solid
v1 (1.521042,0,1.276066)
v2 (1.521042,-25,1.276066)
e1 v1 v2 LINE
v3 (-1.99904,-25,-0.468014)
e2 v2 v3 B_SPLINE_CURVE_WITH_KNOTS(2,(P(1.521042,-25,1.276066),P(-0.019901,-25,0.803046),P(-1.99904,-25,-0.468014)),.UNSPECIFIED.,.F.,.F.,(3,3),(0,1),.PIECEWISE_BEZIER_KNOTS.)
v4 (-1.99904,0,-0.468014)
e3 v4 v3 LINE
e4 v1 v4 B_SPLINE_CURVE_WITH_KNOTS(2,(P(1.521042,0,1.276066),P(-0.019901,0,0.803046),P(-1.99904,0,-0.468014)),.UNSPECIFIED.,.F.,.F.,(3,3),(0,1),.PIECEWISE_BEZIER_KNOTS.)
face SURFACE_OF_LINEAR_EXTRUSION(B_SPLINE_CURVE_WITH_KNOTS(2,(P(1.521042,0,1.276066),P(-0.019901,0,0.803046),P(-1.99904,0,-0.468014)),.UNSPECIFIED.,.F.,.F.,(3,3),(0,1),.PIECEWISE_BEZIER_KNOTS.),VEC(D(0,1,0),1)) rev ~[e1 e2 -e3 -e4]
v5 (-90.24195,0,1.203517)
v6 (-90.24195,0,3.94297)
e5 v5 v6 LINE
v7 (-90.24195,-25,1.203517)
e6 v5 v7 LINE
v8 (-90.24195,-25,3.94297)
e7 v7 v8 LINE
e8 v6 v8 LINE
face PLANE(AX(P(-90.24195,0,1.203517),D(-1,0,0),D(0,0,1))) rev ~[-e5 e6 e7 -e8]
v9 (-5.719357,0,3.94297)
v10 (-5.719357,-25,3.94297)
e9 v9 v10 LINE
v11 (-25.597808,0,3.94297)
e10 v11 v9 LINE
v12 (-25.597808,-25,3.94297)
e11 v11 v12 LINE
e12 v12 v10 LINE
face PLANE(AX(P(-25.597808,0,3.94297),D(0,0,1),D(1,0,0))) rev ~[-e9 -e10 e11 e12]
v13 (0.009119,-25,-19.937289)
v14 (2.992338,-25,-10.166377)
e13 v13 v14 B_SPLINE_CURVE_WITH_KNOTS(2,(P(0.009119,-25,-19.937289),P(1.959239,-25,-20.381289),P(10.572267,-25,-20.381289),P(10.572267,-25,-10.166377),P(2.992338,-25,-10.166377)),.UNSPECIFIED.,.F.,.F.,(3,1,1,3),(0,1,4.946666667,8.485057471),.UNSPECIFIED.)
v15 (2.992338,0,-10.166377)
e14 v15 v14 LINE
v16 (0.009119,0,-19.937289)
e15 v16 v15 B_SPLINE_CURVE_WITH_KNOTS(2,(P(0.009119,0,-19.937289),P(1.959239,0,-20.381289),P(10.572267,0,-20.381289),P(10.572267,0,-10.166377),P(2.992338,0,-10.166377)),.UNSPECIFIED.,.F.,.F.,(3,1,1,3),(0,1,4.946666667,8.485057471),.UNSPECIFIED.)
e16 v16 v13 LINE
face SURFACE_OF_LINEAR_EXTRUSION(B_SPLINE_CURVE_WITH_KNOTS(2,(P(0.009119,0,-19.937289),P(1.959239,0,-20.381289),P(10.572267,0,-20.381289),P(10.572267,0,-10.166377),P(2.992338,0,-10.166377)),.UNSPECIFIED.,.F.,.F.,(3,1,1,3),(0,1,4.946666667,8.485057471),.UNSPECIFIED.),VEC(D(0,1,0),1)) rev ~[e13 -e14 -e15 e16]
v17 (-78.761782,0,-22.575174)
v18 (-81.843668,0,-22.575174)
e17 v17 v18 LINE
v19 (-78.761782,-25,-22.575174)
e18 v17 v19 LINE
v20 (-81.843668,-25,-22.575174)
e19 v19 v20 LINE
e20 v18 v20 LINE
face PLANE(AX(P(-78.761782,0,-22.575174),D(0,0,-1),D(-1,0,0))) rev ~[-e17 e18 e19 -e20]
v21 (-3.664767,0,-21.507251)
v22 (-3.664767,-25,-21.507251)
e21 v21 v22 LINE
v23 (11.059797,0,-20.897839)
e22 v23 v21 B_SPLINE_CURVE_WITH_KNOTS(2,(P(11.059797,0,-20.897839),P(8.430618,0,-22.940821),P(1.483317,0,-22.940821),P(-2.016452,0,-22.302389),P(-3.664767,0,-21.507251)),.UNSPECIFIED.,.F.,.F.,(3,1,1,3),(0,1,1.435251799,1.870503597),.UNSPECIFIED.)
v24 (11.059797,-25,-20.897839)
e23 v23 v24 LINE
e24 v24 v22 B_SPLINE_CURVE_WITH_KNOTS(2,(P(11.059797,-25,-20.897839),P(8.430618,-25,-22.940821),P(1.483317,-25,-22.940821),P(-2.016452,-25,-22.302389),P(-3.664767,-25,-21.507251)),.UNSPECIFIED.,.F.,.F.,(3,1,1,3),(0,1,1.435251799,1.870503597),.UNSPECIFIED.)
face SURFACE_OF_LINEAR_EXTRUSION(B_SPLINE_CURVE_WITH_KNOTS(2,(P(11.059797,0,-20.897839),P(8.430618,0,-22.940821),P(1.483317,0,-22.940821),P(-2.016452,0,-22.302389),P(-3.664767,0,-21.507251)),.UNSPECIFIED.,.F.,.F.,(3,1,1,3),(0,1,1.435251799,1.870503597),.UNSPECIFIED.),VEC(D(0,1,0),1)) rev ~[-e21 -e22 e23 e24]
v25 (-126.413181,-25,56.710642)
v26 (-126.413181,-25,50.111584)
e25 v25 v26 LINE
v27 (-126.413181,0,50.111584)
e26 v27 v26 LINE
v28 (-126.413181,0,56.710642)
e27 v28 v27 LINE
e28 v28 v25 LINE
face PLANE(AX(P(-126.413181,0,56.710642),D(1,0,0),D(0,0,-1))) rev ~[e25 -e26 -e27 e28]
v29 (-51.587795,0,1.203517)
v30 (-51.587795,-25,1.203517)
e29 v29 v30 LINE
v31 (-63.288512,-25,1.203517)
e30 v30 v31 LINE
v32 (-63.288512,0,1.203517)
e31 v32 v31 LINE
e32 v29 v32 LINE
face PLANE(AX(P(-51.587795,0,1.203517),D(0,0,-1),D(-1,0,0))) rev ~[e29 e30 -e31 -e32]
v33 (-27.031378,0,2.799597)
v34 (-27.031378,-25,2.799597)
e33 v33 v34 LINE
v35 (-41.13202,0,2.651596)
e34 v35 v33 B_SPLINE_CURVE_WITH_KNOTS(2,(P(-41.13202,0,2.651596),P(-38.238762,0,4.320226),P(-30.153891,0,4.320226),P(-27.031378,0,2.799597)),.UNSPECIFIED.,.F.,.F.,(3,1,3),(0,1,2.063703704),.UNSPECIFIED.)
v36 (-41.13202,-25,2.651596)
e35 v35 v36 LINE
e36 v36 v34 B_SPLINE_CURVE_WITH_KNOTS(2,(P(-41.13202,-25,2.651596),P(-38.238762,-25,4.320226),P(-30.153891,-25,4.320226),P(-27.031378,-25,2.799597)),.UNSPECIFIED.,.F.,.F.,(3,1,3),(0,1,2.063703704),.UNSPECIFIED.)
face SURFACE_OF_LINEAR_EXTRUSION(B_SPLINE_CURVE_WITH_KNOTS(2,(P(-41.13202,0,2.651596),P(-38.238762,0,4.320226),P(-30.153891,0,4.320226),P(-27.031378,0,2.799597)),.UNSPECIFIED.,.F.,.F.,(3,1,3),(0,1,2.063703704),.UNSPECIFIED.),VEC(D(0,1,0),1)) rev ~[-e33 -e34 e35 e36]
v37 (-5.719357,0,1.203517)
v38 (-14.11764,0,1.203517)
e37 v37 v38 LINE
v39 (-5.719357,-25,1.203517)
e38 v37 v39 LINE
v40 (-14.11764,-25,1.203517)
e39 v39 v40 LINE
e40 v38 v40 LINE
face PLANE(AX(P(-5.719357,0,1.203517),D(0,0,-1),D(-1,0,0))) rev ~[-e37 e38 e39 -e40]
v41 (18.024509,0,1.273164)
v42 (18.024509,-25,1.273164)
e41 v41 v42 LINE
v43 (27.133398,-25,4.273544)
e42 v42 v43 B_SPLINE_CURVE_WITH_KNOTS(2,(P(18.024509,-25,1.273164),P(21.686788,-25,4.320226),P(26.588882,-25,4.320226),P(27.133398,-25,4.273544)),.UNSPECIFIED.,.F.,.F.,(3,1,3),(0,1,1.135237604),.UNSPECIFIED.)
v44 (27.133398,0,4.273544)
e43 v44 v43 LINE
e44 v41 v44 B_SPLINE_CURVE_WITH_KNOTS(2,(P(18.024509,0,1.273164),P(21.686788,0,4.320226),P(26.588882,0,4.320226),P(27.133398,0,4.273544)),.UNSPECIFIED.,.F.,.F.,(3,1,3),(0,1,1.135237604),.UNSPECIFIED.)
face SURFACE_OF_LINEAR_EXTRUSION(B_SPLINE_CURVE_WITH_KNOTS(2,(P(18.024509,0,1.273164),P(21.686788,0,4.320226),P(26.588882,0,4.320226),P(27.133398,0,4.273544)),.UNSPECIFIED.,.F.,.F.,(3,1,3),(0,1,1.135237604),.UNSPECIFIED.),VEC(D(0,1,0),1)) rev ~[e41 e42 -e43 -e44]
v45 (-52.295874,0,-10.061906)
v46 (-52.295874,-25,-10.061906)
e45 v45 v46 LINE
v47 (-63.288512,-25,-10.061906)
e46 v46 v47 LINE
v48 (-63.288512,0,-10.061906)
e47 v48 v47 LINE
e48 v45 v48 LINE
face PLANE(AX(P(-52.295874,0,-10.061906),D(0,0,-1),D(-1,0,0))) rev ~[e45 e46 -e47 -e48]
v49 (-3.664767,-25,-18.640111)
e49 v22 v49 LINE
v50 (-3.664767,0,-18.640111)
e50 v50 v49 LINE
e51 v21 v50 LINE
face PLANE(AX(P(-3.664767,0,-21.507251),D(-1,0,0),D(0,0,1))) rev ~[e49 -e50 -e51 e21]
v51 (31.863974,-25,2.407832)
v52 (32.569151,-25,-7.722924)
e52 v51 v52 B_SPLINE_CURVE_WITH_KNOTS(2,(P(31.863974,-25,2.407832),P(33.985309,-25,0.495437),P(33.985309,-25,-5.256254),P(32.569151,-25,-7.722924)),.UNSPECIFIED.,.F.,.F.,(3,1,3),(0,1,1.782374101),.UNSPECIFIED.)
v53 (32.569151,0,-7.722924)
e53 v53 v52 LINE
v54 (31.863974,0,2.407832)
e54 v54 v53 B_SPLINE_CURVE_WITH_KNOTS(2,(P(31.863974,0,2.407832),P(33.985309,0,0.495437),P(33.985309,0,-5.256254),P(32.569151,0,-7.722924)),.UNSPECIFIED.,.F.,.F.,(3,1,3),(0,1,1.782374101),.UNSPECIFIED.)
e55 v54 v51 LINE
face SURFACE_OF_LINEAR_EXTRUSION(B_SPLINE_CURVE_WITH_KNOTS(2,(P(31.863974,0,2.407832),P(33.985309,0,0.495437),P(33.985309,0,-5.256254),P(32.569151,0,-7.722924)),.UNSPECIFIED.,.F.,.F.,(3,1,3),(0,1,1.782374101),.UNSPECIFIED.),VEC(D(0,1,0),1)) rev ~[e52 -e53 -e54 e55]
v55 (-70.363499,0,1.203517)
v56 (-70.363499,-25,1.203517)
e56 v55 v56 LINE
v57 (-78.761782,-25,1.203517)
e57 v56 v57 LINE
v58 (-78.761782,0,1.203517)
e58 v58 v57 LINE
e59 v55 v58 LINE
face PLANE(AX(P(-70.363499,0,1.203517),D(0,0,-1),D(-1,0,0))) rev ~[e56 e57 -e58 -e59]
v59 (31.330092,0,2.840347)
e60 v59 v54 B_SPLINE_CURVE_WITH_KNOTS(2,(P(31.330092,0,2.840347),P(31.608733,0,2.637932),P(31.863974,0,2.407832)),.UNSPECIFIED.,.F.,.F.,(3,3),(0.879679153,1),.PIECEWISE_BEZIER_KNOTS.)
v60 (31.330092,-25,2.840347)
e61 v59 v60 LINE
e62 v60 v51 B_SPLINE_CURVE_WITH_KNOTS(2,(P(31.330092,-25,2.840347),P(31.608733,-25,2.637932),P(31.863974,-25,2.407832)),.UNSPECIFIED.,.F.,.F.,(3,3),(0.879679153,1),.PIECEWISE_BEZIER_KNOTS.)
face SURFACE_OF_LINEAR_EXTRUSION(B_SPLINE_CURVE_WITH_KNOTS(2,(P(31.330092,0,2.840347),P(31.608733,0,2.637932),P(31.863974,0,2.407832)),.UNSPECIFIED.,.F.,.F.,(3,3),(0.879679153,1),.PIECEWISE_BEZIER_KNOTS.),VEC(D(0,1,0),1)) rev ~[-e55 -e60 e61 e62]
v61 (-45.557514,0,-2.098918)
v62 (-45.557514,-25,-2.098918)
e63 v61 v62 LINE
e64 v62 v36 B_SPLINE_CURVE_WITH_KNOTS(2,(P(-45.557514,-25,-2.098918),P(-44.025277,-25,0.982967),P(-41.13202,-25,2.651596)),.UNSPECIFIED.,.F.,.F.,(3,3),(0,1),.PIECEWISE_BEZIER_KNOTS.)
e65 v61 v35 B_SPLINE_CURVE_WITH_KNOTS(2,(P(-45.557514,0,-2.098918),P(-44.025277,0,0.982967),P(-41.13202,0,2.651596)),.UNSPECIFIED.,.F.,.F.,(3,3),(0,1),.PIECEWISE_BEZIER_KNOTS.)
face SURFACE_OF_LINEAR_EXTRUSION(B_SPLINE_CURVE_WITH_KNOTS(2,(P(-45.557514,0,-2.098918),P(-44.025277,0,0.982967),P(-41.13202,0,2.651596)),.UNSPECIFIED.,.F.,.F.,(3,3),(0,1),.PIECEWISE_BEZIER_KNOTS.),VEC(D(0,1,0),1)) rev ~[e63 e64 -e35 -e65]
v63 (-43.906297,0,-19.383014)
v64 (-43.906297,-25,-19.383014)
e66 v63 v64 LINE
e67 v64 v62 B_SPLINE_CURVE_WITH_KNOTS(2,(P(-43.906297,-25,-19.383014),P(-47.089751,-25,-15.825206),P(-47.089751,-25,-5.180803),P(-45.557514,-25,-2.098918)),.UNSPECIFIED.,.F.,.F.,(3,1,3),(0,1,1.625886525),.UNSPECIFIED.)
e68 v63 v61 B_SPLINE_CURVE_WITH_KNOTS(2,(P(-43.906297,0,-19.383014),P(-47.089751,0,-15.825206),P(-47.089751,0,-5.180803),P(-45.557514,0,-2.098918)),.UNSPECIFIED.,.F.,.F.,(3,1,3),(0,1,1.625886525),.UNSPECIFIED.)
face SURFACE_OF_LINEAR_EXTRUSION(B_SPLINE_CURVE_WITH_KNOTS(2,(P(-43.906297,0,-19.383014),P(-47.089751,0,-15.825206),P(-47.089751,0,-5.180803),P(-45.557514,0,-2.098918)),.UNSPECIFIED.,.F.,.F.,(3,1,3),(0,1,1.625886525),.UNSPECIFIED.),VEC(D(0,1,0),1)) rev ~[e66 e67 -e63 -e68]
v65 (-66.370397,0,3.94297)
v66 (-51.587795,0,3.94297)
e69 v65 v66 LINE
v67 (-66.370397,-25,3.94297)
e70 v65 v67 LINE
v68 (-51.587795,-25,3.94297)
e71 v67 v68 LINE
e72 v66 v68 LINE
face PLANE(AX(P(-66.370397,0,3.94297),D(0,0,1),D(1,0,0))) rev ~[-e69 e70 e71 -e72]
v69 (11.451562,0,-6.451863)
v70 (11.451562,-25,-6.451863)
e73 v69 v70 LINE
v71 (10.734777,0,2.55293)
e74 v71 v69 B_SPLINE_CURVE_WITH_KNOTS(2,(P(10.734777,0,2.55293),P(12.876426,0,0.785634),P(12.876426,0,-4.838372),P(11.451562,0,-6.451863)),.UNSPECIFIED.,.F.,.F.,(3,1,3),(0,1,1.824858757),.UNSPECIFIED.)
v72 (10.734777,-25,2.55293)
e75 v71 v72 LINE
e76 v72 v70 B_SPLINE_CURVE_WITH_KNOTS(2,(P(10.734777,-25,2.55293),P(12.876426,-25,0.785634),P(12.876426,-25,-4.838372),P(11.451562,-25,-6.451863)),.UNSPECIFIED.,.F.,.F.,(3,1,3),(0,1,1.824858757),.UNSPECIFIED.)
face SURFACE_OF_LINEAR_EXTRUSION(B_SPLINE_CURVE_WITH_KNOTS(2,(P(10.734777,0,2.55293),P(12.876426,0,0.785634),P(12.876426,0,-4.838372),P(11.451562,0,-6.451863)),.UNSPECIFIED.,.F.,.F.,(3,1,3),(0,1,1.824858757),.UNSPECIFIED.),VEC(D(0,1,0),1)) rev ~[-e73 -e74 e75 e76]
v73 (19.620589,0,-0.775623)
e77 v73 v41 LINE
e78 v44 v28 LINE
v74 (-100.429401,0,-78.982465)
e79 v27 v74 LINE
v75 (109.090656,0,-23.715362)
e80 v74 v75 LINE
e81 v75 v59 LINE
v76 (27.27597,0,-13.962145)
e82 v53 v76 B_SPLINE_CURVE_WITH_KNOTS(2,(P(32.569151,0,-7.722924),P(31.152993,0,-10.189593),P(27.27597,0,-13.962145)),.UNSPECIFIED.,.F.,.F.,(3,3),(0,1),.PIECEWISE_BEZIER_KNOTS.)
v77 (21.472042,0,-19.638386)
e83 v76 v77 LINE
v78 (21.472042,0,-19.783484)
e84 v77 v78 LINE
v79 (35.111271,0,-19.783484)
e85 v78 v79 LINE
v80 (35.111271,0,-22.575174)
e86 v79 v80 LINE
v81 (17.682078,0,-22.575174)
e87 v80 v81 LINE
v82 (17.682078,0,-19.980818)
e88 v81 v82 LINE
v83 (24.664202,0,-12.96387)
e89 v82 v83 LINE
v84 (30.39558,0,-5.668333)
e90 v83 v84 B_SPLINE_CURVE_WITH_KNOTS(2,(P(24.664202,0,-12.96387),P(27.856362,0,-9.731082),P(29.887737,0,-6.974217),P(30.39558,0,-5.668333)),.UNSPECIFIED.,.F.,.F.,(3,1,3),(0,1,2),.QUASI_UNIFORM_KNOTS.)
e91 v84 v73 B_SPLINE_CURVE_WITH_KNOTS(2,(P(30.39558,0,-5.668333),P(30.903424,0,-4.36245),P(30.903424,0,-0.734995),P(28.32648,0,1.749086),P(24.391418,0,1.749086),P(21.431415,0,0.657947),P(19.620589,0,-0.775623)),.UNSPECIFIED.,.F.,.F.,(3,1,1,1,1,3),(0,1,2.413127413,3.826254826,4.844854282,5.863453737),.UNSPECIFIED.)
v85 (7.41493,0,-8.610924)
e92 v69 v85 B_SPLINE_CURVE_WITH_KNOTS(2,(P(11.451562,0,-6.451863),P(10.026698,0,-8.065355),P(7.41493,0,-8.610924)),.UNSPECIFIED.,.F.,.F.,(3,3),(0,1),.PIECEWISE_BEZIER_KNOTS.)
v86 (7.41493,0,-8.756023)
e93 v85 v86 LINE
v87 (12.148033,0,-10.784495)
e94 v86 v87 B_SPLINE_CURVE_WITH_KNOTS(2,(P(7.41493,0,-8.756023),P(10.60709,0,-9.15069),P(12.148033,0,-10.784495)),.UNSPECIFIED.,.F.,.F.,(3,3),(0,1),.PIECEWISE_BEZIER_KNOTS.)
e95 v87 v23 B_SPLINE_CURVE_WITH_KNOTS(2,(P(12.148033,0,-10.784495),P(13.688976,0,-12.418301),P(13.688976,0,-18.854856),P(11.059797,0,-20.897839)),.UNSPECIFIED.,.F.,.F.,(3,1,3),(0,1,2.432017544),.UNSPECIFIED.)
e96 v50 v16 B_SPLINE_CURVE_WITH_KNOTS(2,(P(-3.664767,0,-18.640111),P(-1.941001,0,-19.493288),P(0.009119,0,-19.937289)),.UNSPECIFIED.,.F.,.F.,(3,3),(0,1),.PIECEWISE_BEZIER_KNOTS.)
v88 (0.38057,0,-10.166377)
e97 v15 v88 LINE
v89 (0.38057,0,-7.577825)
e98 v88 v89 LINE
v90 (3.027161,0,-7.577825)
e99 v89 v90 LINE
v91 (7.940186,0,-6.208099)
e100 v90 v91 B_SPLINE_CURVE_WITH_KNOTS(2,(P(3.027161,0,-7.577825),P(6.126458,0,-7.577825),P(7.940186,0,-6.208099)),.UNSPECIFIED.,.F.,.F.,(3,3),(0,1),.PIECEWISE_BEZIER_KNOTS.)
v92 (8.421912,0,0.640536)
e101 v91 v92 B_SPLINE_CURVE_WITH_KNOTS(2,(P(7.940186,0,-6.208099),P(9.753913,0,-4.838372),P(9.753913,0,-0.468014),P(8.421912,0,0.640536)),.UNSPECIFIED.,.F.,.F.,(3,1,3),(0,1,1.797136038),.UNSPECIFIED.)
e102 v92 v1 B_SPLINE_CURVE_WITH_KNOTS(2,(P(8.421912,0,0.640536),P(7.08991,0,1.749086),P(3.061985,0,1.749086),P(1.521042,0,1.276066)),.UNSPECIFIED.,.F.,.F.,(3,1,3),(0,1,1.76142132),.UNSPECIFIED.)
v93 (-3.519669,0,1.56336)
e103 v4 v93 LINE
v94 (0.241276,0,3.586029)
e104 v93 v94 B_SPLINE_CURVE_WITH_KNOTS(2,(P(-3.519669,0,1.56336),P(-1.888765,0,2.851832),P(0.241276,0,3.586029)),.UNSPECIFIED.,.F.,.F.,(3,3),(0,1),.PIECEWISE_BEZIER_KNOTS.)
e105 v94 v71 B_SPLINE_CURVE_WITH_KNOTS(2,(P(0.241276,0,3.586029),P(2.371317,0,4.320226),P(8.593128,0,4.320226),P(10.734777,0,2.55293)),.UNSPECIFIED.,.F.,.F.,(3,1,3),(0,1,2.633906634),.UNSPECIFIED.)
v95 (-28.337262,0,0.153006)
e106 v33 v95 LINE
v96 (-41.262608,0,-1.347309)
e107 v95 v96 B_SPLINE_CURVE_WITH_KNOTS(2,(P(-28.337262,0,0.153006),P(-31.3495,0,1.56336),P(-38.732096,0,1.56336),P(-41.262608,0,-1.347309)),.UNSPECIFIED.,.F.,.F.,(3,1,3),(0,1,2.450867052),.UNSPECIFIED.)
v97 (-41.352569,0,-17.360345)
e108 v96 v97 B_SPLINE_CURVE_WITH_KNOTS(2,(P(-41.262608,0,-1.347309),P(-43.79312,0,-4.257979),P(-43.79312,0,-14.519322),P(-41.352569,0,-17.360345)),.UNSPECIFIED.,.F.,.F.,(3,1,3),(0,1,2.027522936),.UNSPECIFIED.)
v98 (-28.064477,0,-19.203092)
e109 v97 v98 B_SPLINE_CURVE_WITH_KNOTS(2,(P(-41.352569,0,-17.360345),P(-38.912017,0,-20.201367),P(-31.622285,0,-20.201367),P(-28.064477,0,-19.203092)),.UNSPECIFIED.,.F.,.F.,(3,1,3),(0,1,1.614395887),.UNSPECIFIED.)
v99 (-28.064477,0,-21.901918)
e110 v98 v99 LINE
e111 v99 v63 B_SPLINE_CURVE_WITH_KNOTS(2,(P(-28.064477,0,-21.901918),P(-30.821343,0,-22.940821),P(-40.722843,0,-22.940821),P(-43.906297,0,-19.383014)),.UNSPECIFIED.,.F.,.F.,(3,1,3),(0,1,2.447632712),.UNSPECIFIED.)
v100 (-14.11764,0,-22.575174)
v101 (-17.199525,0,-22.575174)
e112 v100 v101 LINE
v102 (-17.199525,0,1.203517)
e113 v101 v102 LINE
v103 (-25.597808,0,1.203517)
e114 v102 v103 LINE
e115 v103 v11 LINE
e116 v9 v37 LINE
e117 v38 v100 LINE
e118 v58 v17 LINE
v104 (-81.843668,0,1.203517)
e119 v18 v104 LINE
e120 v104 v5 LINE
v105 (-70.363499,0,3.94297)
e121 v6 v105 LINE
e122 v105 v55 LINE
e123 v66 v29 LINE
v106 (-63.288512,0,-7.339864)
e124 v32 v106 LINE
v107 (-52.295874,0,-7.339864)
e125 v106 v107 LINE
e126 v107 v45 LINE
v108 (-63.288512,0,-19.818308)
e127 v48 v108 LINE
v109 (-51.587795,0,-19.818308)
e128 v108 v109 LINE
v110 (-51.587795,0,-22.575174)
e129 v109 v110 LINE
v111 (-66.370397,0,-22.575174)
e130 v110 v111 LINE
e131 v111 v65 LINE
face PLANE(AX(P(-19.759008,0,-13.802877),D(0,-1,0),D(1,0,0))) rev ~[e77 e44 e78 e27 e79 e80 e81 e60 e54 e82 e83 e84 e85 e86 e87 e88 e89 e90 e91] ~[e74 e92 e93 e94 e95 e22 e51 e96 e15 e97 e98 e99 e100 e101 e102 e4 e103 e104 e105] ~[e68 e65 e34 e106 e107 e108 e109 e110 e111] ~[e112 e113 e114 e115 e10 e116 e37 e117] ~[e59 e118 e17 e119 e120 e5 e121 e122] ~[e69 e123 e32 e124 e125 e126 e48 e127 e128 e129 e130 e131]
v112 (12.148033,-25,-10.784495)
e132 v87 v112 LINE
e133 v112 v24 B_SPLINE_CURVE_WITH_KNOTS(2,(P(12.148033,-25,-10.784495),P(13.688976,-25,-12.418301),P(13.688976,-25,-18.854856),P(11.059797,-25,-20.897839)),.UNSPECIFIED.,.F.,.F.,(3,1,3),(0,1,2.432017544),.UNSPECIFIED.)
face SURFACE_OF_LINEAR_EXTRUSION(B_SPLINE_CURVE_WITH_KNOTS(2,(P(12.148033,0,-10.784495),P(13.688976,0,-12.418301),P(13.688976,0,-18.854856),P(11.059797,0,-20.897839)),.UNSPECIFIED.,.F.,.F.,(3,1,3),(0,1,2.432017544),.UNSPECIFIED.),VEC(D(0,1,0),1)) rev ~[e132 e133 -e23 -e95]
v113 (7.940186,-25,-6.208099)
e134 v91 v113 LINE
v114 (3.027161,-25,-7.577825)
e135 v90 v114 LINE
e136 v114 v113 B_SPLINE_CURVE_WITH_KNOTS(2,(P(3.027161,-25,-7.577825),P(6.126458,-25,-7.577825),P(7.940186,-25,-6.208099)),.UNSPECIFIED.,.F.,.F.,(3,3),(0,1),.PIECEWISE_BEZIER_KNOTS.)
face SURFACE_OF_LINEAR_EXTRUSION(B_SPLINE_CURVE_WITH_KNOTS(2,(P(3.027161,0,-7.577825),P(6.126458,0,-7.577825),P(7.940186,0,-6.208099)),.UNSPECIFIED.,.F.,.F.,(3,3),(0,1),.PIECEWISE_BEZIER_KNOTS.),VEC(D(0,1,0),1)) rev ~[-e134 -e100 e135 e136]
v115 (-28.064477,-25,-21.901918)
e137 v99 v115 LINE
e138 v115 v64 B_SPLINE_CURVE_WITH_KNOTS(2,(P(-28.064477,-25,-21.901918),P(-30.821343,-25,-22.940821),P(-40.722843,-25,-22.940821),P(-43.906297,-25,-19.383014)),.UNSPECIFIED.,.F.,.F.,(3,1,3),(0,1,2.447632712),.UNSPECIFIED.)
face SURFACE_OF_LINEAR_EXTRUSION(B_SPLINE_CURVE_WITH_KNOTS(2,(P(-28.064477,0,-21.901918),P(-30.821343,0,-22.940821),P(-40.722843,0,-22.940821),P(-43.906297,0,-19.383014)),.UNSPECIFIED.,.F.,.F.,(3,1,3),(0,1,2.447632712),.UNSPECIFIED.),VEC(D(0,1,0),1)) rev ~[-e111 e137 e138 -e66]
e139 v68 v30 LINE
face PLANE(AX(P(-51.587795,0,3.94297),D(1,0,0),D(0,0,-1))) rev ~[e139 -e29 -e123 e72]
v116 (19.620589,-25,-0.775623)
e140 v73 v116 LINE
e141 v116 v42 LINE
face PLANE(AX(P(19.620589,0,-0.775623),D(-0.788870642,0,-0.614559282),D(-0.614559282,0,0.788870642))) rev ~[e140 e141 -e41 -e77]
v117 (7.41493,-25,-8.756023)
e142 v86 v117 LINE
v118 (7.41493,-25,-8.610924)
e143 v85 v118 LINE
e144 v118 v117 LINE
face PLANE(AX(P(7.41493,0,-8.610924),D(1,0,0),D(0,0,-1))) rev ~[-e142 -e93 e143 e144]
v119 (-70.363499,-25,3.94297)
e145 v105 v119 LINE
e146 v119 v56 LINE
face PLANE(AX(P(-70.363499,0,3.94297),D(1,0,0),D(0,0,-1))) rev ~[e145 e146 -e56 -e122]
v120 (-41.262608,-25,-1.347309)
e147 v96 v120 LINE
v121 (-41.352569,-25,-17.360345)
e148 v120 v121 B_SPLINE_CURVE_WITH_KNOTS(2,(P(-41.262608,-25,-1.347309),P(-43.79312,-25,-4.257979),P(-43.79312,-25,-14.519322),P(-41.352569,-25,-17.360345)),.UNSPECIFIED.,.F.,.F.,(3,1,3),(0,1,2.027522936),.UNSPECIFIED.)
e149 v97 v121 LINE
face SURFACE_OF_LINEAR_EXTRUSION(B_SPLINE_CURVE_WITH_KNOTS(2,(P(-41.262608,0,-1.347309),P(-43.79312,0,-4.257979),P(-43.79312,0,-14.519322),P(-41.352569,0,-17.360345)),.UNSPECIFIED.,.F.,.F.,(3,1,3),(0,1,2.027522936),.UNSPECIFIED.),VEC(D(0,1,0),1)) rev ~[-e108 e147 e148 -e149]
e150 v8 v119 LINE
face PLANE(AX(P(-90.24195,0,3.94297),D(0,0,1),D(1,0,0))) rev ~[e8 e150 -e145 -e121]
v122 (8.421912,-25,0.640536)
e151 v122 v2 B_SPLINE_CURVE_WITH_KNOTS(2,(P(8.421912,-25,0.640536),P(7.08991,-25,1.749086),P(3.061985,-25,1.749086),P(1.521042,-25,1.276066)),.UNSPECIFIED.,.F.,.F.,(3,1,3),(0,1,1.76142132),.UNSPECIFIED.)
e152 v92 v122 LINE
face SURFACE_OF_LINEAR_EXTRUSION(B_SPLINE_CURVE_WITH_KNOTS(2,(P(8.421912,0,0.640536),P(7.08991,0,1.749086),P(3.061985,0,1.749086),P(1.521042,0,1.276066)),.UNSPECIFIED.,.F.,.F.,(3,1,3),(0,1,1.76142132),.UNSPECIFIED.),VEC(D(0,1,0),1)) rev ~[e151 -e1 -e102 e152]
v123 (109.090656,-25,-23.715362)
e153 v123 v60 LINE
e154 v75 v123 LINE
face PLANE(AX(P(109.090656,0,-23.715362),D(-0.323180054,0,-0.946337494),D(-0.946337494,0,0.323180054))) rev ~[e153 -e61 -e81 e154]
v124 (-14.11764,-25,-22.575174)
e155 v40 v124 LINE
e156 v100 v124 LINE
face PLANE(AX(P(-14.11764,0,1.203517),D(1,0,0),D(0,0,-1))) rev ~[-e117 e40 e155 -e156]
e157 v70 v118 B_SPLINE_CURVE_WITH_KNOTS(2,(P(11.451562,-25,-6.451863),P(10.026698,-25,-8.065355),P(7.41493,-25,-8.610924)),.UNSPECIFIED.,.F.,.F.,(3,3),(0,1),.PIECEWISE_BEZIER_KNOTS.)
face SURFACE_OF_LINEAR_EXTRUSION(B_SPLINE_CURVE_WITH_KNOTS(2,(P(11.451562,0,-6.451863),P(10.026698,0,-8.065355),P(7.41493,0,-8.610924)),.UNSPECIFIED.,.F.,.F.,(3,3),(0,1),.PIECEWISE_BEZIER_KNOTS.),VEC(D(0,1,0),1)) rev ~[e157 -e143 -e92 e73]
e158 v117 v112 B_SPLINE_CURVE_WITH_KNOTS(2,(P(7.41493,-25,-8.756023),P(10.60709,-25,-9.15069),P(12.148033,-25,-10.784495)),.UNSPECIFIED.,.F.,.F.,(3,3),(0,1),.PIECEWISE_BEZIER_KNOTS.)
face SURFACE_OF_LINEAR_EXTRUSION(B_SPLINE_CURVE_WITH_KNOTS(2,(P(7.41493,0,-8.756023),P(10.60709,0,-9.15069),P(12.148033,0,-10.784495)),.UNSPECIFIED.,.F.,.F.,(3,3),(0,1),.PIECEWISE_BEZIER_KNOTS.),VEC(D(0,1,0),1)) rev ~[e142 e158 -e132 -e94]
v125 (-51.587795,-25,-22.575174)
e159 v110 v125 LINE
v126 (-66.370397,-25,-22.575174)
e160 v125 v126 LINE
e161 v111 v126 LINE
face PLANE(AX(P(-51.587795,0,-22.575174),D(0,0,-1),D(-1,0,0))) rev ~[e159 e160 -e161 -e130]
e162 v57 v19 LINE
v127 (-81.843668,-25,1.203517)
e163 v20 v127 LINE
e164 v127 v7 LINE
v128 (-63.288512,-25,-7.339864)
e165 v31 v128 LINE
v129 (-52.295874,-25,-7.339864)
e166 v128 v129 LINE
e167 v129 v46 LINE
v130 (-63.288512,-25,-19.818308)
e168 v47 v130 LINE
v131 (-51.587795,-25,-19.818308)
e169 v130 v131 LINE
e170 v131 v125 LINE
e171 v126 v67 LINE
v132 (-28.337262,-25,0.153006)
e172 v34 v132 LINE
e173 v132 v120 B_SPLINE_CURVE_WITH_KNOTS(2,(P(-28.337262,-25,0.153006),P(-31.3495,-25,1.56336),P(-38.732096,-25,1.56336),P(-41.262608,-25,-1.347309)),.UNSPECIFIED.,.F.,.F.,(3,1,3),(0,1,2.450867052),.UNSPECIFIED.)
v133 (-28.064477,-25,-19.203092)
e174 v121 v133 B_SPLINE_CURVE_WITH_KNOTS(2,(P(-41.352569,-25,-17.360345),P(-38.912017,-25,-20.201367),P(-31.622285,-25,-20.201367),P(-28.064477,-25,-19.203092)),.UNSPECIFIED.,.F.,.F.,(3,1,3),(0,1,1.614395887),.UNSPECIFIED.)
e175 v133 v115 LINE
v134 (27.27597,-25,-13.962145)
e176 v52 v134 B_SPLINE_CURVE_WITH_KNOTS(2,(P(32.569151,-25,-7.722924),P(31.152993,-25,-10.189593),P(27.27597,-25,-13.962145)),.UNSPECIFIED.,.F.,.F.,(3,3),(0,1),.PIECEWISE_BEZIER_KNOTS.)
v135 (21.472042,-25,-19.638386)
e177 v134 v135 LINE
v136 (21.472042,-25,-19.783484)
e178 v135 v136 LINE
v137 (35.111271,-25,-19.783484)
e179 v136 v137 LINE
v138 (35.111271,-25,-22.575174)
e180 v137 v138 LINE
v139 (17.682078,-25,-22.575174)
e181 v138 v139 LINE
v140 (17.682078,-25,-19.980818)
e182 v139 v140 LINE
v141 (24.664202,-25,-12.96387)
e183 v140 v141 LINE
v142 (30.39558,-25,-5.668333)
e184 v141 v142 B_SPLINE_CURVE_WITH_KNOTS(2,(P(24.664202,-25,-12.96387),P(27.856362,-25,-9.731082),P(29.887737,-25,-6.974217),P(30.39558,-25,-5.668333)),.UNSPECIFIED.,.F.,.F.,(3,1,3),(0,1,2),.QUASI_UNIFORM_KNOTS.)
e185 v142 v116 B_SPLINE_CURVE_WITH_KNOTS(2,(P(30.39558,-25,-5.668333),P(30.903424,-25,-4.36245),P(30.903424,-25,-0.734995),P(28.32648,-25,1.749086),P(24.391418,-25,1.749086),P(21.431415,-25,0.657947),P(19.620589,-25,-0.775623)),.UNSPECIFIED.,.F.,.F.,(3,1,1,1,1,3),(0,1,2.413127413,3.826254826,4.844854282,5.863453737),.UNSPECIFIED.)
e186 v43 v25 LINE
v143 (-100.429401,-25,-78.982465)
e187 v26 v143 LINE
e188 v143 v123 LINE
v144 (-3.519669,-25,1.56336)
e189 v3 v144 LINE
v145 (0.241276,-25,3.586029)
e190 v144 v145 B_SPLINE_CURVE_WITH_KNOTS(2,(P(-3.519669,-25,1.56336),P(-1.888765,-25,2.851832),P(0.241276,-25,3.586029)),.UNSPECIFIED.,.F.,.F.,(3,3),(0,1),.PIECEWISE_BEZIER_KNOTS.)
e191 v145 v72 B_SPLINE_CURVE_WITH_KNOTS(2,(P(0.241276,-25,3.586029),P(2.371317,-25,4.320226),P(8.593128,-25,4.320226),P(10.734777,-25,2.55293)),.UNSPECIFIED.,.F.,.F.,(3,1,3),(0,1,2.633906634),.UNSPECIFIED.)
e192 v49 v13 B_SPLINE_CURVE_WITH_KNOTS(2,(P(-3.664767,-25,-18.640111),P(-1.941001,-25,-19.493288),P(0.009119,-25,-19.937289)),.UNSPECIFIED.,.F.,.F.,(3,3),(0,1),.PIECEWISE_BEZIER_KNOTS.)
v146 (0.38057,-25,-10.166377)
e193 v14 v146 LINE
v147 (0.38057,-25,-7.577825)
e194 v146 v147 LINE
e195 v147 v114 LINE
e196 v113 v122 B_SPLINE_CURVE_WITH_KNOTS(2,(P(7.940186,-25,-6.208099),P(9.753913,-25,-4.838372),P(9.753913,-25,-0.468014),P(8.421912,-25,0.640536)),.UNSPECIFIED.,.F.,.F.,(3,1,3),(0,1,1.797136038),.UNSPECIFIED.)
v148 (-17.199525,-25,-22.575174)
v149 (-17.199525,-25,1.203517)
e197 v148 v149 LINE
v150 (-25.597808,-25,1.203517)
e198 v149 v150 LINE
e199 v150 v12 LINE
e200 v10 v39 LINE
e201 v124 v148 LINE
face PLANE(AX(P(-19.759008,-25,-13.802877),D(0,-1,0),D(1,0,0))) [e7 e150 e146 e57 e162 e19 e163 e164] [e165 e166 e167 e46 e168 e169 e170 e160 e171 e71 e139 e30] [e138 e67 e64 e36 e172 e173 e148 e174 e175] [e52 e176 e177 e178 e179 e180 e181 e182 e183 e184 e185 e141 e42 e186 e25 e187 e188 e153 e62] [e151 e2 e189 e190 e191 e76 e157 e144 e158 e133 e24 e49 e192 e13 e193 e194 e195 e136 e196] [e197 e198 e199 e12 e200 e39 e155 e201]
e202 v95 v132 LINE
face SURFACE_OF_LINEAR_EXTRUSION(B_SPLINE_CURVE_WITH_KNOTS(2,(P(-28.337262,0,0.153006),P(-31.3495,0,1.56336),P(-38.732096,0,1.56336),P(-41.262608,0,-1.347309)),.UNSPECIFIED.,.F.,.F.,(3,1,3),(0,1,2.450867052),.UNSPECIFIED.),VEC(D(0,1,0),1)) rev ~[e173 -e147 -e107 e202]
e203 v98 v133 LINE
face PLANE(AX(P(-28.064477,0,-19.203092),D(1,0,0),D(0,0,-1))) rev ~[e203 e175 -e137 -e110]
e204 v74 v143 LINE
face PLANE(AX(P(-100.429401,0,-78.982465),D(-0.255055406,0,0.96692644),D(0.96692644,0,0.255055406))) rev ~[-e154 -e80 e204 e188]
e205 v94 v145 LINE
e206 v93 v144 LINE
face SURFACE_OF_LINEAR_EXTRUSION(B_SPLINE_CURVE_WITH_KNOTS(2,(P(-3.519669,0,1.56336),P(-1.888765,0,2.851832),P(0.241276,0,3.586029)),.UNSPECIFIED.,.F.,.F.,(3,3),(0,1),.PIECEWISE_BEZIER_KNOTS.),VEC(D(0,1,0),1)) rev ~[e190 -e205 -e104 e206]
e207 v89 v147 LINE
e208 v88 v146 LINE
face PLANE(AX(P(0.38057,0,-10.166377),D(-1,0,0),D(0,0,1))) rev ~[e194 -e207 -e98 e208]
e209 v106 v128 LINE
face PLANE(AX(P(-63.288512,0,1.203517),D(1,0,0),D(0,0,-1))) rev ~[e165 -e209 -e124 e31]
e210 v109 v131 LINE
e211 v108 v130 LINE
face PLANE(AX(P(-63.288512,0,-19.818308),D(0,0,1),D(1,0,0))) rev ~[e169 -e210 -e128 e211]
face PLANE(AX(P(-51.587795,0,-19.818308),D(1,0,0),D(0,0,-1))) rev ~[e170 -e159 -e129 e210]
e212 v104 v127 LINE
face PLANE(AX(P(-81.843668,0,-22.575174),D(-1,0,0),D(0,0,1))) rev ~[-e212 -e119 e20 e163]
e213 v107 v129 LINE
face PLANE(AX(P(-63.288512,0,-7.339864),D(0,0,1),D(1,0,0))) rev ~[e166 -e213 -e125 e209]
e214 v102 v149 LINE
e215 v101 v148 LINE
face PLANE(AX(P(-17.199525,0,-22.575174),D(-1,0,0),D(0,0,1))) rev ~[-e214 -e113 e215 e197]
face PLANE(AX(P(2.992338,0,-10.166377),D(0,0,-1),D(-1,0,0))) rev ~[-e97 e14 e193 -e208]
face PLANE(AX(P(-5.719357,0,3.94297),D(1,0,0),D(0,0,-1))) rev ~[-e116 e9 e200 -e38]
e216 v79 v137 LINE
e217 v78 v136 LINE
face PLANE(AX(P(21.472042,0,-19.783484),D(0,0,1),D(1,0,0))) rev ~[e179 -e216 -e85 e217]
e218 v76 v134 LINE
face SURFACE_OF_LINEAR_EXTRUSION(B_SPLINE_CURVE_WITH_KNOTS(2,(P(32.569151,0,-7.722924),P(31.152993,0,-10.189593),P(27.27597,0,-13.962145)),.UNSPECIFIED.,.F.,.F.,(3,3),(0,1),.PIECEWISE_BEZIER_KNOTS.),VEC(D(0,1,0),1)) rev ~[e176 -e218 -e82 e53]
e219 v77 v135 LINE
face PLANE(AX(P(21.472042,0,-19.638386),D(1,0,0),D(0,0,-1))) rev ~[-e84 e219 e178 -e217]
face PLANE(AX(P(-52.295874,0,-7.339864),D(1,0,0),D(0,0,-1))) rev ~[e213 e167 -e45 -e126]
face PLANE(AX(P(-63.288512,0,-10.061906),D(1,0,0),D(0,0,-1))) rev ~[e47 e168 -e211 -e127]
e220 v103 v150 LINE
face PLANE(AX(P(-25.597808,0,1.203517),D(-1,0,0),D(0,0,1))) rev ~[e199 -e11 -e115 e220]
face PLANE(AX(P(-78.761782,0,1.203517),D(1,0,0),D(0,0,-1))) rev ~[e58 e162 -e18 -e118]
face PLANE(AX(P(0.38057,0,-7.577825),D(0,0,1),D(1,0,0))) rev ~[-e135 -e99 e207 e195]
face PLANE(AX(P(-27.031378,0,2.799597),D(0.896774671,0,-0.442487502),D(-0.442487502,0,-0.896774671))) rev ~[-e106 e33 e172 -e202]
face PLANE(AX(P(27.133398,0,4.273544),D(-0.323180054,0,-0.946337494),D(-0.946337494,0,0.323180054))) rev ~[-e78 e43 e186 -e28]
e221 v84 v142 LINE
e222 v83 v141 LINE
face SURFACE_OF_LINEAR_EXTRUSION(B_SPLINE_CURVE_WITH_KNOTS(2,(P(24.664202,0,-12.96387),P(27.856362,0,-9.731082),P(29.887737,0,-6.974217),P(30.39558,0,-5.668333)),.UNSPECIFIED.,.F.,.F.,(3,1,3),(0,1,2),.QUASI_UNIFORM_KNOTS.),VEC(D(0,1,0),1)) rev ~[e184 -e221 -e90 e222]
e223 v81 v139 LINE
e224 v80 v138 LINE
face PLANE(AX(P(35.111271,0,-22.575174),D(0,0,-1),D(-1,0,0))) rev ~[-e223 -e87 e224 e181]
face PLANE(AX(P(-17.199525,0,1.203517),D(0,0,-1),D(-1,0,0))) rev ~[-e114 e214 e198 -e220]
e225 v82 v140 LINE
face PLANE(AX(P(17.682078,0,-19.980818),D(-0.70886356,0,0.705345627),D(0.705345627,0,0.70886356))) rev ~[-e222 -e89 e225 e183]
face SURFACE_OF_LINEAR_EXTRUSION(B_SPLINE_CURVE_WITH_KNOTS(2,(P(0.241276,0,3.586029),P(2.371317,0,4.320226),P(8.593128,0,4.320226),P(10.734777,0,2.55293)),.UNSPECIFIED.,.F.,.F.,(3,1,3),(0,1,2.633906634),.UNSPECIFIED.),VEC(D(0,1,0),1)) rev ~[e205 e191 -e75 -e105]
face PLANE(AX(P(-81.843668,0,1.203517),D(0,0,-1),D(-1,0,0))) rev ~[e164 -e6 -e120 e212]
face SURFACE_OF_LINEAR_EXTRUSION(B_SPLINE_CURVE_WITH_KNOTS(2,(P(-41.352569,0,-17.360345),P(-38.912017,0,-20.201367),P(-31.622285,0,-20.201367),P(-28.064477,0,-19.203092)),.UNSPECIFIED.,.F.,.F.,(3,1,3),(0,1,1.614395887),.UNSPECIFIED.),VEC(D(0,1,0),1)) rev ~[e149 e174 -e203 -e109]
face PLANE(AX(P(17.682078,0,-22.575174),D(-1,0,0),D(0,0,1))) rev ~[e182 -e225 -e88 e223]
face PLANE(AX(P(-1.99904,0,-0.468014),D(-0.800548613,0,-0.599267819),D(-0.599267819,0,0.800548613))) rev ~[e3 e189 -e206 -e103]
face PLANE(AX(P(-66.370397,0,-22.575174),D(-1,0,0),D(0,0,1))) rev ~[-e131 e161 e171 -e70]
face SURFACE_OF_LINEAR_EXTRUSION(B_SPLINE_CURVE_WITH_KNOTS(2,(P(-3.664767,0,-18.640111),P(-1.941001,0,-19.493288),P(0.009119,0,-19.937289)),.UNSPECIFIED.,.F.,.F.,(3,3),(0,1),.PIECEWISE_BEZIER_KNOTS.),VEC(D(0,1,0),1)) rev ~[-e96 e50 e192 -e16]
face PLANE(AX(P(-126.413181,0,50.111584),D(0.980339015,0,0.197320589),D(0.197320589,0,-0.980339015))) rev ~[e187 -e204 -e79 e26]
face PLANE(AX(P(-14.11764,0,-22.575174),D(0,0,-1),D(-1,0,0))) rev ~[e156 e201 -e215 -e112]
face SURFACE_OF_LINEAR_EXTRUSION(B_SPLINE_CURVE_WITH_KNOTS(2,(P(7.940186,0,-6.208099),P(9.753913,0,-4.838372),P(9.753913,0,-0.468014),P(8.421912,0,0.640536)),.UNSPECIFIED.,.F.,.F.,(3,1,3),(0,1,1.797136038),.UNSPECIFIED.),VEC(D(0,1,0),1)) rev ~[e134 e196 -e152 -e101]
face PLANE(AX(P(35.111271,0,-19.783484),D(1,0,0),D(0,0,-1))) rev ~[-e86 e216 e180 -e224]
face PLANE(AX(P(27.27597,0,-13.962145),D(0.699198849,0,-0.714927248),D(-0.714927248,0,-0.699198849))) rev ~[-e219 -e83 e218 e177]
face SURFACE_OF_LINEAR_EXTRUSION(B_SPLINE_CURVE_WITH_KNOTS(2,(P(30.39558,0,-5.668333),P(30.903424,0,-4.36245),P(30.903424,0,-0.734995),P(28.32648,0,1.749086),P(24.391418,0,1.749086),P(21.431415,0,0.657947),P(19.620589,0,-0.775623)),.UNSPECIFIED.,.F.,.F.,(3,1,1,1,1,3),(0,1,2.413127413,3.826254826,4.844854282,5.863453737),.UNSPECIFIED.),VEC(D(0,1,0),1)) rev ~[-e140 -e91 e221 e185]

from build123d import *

# Parameters (mm, degrees)
F1_DEPTH = 25


with BuildPart() as f1:
    # F0 (on Front) → F1 (new body)
    with BuildSketch(Plane.XZ):
        with BuildLine():
            Line((27.1333980914, 4.2735439138), (-126.4131814241, 56.7106418312))
            Line((-126.4131814241, 56.7106418312), (-126.4131814241, 50.1115843654))
            Line((-126.4131814241, 50.1115843654), (-100.4294008017, -78.9824649692))
            Line((-100.4294008017, -78.9824649692), (109.0906560421, -23.7153619528))
            Line((109.0906560421, -23.7153619528), (31.3300916134, 2.8403473566))
            add(Edge.make_bspline(
                [(31.3300916134, 2.8403473566), (31.6087331931, 2.6379324169), (31.8639740687, 2.4078315454)],
                knots=[0.879679153, 0.879679153, 0.879679153, 1, 1, 1], degree=2))
            add(Edge.make_bspline(
                [(31.8639740687, 2.4078315454), (33.9853094976, 0.4954374993), (33.9853094976, -2.7315460807)],
                knots=[0, 0, 0, 1, 1, 1], degree=2))
            add(Edge.make_bspline(
                [(33.9853094976, -2.7315460807), (33.9853094976, -5.2562544572), (32.5691512359, -7.7229235606)],
                knots=[0, 0, 0, 1, 1, 1], degree=2))
            add(Edge.make_bspline(
                [(32.5691512359, -7.7229235606), (31.1529929742, -10.1895926641), (27.2759695363, -13.9621454105)],
                knots=[0, 0, 0, 1, 1, 1], degree=2))
            Line((27.2759695363, -13.9621454105), (21.4720422341, -19.6383863121))
            Line((21.4720422341, -19.6383863121), (21.4720422341, -19.7834844946))
            Line((21.4720422341, -19.7834844946), (35.1112713943, -19.7834844946))
            Line((35.1112713943, -19.7834844946), (35.1112713943, -22.575173527))
            Line((35.1112713943, -22.575173527), (17.6820777057, -22.575173527))
            Line((17.6820777057, -22.575173527), (17.6820777057, -19.9808180229))
            Line((17.6820777057, -19.9808180229), (24.6642022503, -12.9638699145))
            add(Edge.make_bspline(
                [(24.6642022503, -12.9638699145), (27.8563622665, -9.7310824072), (28.8720495444, -8.3526496729)],
                knots=[0, 0, 0, 1, 1, 1], degree=2))
            add(Edge.make_bspline(
                [(28.8720495444, -8.3526496729), (29.8877368223, -6.9742169386), (30.3955804612, -5.6683332956)],
                knots=[0, 0, 0, 1, 1, 1], degree=2))
            add(Edge.make_bspline(
                [(30.3955804612, -5.6683332956), (30.9034241002, -4.3624496526), (30.9034241002, -2.8592324814)],
                knots=[0, 0, 0, 1, 1, 1], degree=2))
            add(Edge.make_bspline(
                [(30.9034241002, -2.8592324814), (30.9034241002, -0.7349950888), (29.6149522391, 0.5070453539)],
                knots=[0, 0, 0, 1, 1, 1], degree=2))
            add(Edge.make_bspline(
                [(29.6149522391, 0.5070453539), (28.326480378, 1.7490857966), (26.0397330209, 1.7490857966)],
                knots=[0, 0, 0, 1, 1, 1], degree=2))
            add(Edge.make_bspline(
                [(26.0397330209, 1.7490857966), (24.3914176671, 1.7490857966), (22.911416205, 1.2035166302)],
                knots=[0, 0, 0, 1, 1, 1], degree=2))
            add(Edge.make_bspline(
                [(22.911416205, 1.2035166302), (21.4314147429, 0.6579474638), (19.6205894247, -0.7756225799)],
                knots=[0, 0, 0, 1, 1, 1], degree=2))
            Line((19.6205894247, -0.7756225799), (18.0245094165, 1.2731637578))
            add(Edge.make_bspline(
                [(18.0245094165, 1.2731637578), (21.6867875442, 4.3202255915), (26.0049094571, 4.3202255915)],
                knots=[0, 0, 0, 1, 1, 1], degree=2))
            add(Edge.make_bspline(
                [(26.0049094571, 4.3202255915), (26.5888819187, 4.3202255915), (27.1333980914, 4.2735439138)],
                knots=[0, 0, 0, 0.156237232, 0.156237232, 0.156237232], degree=2))
        make_face()
        Polygon((-78.7617822753, 1.2035166302), (-78.7617822753, -22.575173527), (-81.8436676727, -22.575173527), (-81.8436676727, 1.2035166302), (-90.241950479, 1.2035166302), (-90.241950479, 3.9429703168), (-70.3634994689, 3.9429703168), (-70.3634994689, 1.2035166302), align=None, mode=Mode.SUBTRACT)
        Polygon((-51.5877946463, -19.8183080584), (-51.5877946463, -22.575173527), (-66.370397485, -22.575173527), (-66.370397485, 3.9429703168), (-51.5877946463, 3.9429703168), (-51.5877946463, 1.2035166302), (-63.2885120875, 1.2035166302), (-63.2885120875, -7.3398643587), (-52.2958737771, -7.3398643587), (-52.2958737771, -10.0619062634), (-63.2885120875, -10.0619062634), (-63.2885120875, -19.8183080584), align=None, mode=Mode.SUBTRACT)
        with BuildLine():
            add(Edge.make_bspline(
                [(-28.3372618736, 0.1530057885), (-31.3495001434, 1.5633601229), (-34.3617384133, 1.5633601229)],
                knots=[0, 0, 0, 1, 1, 1], degree=2))
            add(Edge.make_bspline(
                [(-34.3617384133, 1.5633601229), (-38.7320956719, 1.5633601229), (-41.2626079756, -1.3473094191)],
                knots=[0, 0, 0, 1, 1, 1], degree=2))
            add(Edge.make_bspline(
                [(-41.2626079756, -1.3473094191), (-43.7931202794, -4.2579789612), (-43.7931202794, -9.3190035687)],
                knots=[0, 0, 0, 1, 1, 1], degree=2))
            add(Edge.make_bspline(
                [(-43.7931202794, -9.3190035687), (-43.7931202794, -14.5193224315), (-41.3525688488, -17.360344846)],
                knots=[0, 0, 0, 1, 1, 1], degree=2))
            add(Edge.make_bspline(
                [(-41.3525688488, -17.360344846), (-38.9120174182, -20.2013672604), (-34.3965619771, -20.2013672604)],
                knots=[0, 0, 0, 1, 1, 1], degree=2))
            add(Edge.make_bspline(
                [(-34.3965619771, -20.2013672604), (-31.6222847266, -20.2013672604), (-28.0644772904, -19.2030917644)],
                knots=[0, 0, 0, 1, 1, 1], degree=2))
            Line((-28.0644772904, -19.2030917644), (-28.0644772904, -21.9019179599))
            add(Edge.make_bspline(
                [(-28.0644772904, -21.9019179599), (-30.8213427589, -22.940820947), (-34.8666800886, -22.940820947)],
                knots=[0, 0, 0, 1, 1, 1], degree=2))
            add(Edge.make_bspline(
                [(-34.8666800886, -22.940820947), (-40.7228427365, -22.940820947), (-43.9062968618, -19.3830135108)],
                knots=[0, 0, 0, 1, 1, 1], degree=2))
            add(Edge.make_bspline(
                [(-43.9062968618, -19.3830135108), (-47.089750987, -15.8252060745), (-47.089750987, -9.2783760776)],
                knots=[0, 0, 0, 1, 1, 1], degree=2))
            add(Edge.make_bspline(
                [(-47.089750987, -9.2783760776), (-47.089750987, -5.1808034023), (-45.5575141793, -2.0989180048)],
                knots=[0, 0, 0, 1, 1, 1], degree=2))
            add(Edge.make_bspline(
                [(-45.5575141793, -2.0989180048), (-44.0252773715, 0.9829673927), (-41.1320196113, 2.6515964921)],
                knots=[0, 0, 0, 1, 1, 1], degree=2))
            add(Edge.make_bspline(
                [(-41.1320196113, 2.6515964921), (-38.2387618512, 4.3202255915), (-34.3211109222, 4.3202255915)],
                knots=[0, 0, 0, 1, 1, 1], degree=2))
            add(Edge.make_bspline(
                [(-34.3211109222, 4.3202255915), (-30.1538911192, 4.3202255915), (-27.0313782306, 2.7995966383)],
                knots=[0, 0, 0, 1, 1, 1], degree=2))
            Line((-27.0313782306, 2.7995966383), (-28.3372618736, 0.1530057885))
        make_face(mode=Mode.SUBTRACT)
        Polygon((-14.1176399831, 1.2035166302), (-14.1176399831, -22.575173527), (-17.1995253806, -22.575173527), (-17.1995253806, 1.2035166302), (-25.5978081869, 1.2035166302), (-25.5978081869, 3.9429703168), (-5.7193571768, 3.9429703168), (-5.7193571768, 1.2035166302), align=None, mode=Mode.SUBTRACT)
        with BuildLine():
            add(Edge.make_bspline(
                [(10.734776725, 2.552929728), (12.8764258995, 0.7856338644), (12.8764258995, -2.2962515331)],
                knots=[0, 0, 0, 1, 1, 1], degree=2))
            add(Edge.make_bspline(
                [(12.8764258995, -2.2962515331), (12.8764258995, -4.8383716914), (11.4515617468, -6.4518634814)],
                knots=[0, 0, 0, 1, 1, 1], degree=2))
            add(Edge.make_bspline(
                [(11.4515617468, -6.4518634814), (10.0266975941, -8.0653552715), (7.4149303081, -8.6109244379)],
                knots=[0, 0, 0, 1, 1, 1], degree=2))
            Line((7.4149303081, -8.6109244379), (7.4149303081, -8.7560226204))
            add(Edge.make_bspline(
                [(7.4149303081, -8.7560226204), (10.6070903243, -9.150689677), (12.148033023, -10.7844952125)],
                knots=[0, 0, 0, 1, 1, 1], degree=2))
            add(Edge.make_bspline(
                [(12.148033023, -10.7844952125), (13.6889757218, -12.4183007481), (13.6889757218, -15.0648915979)],
                knots=[0, 0, 0, 1, 1, 1], degree=2))
            add(Edge.make_bspline(
                [(13.6889757218, -15.0648915979), (13.6889757218, -18.8548561263), (11.0597966539, -20.8978385367)],
                knots=[0, 0, 0, 1, 1, 1], degree=2))
            add(Edge.make_bspline(
                [(11.0597966539, -20.8978385367), (8.430617586, -22.940820947), (3.5901422159, -22.940820947)],
                knots=[0, 0, 0, 1, 1, 1], degree=2))
            add(Edge.make_bspline(
                [(3.5901422159, -22.940820947), (1.4833166052, -22.940820947), (-0.2665674764, -22.6216049454)],
                knots=[0, 0, 0, 1, 1, 1], degree=2))
            add(Edge.make_bspline(
                [(-0.2665674764, -22.6216049454), (-2.016451558, -22.3023889438), (-3.6647669118, -21.5072509034)],
                knots=[0, 0, 0, 1, 1, 1], degree=2))
            Line((-3.6647669118, -21.5072509034), (-3.6647669118, -18.6401108161))
            add(Edge.make_bspline(
                [(-3.6647669118, -18.6401108161), (-1.9410005031, -19.4932881295), (0.0091190705, -19.9372885681)],
                knots=[0, 0, 0, 1, 1, 1], degree=2))
            add(Edge.make_bspline(
                [(0.0091190705, -19.9372885681), (1.959238644, -20.3812890068), (3.7004168347, -20.3812890068)],
                knots=[0, 0, 0, 1, 1, 1], degree=2))
            add(Edge.make_bspline(
                [(3.7004168347, -20.3812890068), (10.5722667605, -20.3812890068), (10.5722667605, -14.9952444703)],
                knots=[0, 0, 0, 1, 1, 1], degree=2))
            add(Edge.make_bspline(
                [(10.5722667605, -14.9952444703), (10.5722667605, -10.1663769549), (2.9923377038, -10.1663769549)],
                knots=[0, 0, 0, 1, 1, 1], degree=2))
            Line((2.9923377038, -10.1663769549), (0.3805704178, -10.1663769549))
            Line((0.3805704178, -10.1663769549), (0.3805704178, -7.5778253781))
            Line((0.3805704178, -7.5778253781), (3.0271612676, -7.5778253781))
            add(Edge.make_bspline(
                [(3.0271612676, -7.5778253781), (6.126458447, -7.5778253781), (7.9401857289, -6.2080985347)],
                knots=[0, 0, 0, 1, 1, 1], degree=2))
            add(Edge.make_bspline(
                [(7.9401857289, -6.2080985347), (9.7539130109, -4.8383716914), (9.7539130109, -2.4065261518)],
                knots=[0, 0, 0, 1, 1, 1], degree=2))
            add(Edge.make_bspline(
                [(9.7539130109, -2.4065261518), (9.7539130109, -0.4680144329), (8.421911695, 0.6405356819)],
                knots=[0, 0, 0, 1, 1, 1], degree=2))
            add(Edge.make_bspline(
                [(8.421911695, 0.6405356819), (7.0899103792, 1.7490857966), (4.8031630221, 1.7490857966)],
                knots=[0, 0, 0, 1, 1, 1], degree=2))
            add(Edge.make_bspline(
                [(4.8031630221, 1.7490857966), (3.0619848314, 1.7490857966), (1.5210421327, 1.2760657215)],
                knots=[0, 0, 0, 1, 1, 1], degree=2))
            add(Edge.make_bspline(
                [(1.5210421327, 1.2760657215), (-0.0199005661, 0.8030456463), (-1.9990397761, -0.4680144329)],
                knots=[0, 0, 0, 1, 1, 1], degree=2))
            Line((-1.9990397761, -0.4680144329), (-3.5196687293, 1.5633601229))
            add(Edge.make_bspline(
                [(-3.5196687293, 1.5633601229), (-1.8887651574, 2.851831984), (0.2412761625, 3.5860287877)],
                knots=[0, 0, 0, 1, 1, 1], degree=2))
            add(Edge.make_bspline(
                [(0.2412761625, 3.5860287877), (2.3713174825, 4.3202255915), (4.7335158945, 4.3202255915)],
                knots=[0, 0, 0, 1, 1, 1], degree=2))
            add(Edge.make_bspline(
                [(4.7335158945, 4.3202255915), (8.5931275504, 4.3202255915), (10.734776725, 2.552929728)],
                knots=[0, 0, 0, 1, 1, 1], degree=2))
        make_face(mode=Mode.SUBTRACT)
    extrude(amount=F1_DEPTH)


solid = f1.part
